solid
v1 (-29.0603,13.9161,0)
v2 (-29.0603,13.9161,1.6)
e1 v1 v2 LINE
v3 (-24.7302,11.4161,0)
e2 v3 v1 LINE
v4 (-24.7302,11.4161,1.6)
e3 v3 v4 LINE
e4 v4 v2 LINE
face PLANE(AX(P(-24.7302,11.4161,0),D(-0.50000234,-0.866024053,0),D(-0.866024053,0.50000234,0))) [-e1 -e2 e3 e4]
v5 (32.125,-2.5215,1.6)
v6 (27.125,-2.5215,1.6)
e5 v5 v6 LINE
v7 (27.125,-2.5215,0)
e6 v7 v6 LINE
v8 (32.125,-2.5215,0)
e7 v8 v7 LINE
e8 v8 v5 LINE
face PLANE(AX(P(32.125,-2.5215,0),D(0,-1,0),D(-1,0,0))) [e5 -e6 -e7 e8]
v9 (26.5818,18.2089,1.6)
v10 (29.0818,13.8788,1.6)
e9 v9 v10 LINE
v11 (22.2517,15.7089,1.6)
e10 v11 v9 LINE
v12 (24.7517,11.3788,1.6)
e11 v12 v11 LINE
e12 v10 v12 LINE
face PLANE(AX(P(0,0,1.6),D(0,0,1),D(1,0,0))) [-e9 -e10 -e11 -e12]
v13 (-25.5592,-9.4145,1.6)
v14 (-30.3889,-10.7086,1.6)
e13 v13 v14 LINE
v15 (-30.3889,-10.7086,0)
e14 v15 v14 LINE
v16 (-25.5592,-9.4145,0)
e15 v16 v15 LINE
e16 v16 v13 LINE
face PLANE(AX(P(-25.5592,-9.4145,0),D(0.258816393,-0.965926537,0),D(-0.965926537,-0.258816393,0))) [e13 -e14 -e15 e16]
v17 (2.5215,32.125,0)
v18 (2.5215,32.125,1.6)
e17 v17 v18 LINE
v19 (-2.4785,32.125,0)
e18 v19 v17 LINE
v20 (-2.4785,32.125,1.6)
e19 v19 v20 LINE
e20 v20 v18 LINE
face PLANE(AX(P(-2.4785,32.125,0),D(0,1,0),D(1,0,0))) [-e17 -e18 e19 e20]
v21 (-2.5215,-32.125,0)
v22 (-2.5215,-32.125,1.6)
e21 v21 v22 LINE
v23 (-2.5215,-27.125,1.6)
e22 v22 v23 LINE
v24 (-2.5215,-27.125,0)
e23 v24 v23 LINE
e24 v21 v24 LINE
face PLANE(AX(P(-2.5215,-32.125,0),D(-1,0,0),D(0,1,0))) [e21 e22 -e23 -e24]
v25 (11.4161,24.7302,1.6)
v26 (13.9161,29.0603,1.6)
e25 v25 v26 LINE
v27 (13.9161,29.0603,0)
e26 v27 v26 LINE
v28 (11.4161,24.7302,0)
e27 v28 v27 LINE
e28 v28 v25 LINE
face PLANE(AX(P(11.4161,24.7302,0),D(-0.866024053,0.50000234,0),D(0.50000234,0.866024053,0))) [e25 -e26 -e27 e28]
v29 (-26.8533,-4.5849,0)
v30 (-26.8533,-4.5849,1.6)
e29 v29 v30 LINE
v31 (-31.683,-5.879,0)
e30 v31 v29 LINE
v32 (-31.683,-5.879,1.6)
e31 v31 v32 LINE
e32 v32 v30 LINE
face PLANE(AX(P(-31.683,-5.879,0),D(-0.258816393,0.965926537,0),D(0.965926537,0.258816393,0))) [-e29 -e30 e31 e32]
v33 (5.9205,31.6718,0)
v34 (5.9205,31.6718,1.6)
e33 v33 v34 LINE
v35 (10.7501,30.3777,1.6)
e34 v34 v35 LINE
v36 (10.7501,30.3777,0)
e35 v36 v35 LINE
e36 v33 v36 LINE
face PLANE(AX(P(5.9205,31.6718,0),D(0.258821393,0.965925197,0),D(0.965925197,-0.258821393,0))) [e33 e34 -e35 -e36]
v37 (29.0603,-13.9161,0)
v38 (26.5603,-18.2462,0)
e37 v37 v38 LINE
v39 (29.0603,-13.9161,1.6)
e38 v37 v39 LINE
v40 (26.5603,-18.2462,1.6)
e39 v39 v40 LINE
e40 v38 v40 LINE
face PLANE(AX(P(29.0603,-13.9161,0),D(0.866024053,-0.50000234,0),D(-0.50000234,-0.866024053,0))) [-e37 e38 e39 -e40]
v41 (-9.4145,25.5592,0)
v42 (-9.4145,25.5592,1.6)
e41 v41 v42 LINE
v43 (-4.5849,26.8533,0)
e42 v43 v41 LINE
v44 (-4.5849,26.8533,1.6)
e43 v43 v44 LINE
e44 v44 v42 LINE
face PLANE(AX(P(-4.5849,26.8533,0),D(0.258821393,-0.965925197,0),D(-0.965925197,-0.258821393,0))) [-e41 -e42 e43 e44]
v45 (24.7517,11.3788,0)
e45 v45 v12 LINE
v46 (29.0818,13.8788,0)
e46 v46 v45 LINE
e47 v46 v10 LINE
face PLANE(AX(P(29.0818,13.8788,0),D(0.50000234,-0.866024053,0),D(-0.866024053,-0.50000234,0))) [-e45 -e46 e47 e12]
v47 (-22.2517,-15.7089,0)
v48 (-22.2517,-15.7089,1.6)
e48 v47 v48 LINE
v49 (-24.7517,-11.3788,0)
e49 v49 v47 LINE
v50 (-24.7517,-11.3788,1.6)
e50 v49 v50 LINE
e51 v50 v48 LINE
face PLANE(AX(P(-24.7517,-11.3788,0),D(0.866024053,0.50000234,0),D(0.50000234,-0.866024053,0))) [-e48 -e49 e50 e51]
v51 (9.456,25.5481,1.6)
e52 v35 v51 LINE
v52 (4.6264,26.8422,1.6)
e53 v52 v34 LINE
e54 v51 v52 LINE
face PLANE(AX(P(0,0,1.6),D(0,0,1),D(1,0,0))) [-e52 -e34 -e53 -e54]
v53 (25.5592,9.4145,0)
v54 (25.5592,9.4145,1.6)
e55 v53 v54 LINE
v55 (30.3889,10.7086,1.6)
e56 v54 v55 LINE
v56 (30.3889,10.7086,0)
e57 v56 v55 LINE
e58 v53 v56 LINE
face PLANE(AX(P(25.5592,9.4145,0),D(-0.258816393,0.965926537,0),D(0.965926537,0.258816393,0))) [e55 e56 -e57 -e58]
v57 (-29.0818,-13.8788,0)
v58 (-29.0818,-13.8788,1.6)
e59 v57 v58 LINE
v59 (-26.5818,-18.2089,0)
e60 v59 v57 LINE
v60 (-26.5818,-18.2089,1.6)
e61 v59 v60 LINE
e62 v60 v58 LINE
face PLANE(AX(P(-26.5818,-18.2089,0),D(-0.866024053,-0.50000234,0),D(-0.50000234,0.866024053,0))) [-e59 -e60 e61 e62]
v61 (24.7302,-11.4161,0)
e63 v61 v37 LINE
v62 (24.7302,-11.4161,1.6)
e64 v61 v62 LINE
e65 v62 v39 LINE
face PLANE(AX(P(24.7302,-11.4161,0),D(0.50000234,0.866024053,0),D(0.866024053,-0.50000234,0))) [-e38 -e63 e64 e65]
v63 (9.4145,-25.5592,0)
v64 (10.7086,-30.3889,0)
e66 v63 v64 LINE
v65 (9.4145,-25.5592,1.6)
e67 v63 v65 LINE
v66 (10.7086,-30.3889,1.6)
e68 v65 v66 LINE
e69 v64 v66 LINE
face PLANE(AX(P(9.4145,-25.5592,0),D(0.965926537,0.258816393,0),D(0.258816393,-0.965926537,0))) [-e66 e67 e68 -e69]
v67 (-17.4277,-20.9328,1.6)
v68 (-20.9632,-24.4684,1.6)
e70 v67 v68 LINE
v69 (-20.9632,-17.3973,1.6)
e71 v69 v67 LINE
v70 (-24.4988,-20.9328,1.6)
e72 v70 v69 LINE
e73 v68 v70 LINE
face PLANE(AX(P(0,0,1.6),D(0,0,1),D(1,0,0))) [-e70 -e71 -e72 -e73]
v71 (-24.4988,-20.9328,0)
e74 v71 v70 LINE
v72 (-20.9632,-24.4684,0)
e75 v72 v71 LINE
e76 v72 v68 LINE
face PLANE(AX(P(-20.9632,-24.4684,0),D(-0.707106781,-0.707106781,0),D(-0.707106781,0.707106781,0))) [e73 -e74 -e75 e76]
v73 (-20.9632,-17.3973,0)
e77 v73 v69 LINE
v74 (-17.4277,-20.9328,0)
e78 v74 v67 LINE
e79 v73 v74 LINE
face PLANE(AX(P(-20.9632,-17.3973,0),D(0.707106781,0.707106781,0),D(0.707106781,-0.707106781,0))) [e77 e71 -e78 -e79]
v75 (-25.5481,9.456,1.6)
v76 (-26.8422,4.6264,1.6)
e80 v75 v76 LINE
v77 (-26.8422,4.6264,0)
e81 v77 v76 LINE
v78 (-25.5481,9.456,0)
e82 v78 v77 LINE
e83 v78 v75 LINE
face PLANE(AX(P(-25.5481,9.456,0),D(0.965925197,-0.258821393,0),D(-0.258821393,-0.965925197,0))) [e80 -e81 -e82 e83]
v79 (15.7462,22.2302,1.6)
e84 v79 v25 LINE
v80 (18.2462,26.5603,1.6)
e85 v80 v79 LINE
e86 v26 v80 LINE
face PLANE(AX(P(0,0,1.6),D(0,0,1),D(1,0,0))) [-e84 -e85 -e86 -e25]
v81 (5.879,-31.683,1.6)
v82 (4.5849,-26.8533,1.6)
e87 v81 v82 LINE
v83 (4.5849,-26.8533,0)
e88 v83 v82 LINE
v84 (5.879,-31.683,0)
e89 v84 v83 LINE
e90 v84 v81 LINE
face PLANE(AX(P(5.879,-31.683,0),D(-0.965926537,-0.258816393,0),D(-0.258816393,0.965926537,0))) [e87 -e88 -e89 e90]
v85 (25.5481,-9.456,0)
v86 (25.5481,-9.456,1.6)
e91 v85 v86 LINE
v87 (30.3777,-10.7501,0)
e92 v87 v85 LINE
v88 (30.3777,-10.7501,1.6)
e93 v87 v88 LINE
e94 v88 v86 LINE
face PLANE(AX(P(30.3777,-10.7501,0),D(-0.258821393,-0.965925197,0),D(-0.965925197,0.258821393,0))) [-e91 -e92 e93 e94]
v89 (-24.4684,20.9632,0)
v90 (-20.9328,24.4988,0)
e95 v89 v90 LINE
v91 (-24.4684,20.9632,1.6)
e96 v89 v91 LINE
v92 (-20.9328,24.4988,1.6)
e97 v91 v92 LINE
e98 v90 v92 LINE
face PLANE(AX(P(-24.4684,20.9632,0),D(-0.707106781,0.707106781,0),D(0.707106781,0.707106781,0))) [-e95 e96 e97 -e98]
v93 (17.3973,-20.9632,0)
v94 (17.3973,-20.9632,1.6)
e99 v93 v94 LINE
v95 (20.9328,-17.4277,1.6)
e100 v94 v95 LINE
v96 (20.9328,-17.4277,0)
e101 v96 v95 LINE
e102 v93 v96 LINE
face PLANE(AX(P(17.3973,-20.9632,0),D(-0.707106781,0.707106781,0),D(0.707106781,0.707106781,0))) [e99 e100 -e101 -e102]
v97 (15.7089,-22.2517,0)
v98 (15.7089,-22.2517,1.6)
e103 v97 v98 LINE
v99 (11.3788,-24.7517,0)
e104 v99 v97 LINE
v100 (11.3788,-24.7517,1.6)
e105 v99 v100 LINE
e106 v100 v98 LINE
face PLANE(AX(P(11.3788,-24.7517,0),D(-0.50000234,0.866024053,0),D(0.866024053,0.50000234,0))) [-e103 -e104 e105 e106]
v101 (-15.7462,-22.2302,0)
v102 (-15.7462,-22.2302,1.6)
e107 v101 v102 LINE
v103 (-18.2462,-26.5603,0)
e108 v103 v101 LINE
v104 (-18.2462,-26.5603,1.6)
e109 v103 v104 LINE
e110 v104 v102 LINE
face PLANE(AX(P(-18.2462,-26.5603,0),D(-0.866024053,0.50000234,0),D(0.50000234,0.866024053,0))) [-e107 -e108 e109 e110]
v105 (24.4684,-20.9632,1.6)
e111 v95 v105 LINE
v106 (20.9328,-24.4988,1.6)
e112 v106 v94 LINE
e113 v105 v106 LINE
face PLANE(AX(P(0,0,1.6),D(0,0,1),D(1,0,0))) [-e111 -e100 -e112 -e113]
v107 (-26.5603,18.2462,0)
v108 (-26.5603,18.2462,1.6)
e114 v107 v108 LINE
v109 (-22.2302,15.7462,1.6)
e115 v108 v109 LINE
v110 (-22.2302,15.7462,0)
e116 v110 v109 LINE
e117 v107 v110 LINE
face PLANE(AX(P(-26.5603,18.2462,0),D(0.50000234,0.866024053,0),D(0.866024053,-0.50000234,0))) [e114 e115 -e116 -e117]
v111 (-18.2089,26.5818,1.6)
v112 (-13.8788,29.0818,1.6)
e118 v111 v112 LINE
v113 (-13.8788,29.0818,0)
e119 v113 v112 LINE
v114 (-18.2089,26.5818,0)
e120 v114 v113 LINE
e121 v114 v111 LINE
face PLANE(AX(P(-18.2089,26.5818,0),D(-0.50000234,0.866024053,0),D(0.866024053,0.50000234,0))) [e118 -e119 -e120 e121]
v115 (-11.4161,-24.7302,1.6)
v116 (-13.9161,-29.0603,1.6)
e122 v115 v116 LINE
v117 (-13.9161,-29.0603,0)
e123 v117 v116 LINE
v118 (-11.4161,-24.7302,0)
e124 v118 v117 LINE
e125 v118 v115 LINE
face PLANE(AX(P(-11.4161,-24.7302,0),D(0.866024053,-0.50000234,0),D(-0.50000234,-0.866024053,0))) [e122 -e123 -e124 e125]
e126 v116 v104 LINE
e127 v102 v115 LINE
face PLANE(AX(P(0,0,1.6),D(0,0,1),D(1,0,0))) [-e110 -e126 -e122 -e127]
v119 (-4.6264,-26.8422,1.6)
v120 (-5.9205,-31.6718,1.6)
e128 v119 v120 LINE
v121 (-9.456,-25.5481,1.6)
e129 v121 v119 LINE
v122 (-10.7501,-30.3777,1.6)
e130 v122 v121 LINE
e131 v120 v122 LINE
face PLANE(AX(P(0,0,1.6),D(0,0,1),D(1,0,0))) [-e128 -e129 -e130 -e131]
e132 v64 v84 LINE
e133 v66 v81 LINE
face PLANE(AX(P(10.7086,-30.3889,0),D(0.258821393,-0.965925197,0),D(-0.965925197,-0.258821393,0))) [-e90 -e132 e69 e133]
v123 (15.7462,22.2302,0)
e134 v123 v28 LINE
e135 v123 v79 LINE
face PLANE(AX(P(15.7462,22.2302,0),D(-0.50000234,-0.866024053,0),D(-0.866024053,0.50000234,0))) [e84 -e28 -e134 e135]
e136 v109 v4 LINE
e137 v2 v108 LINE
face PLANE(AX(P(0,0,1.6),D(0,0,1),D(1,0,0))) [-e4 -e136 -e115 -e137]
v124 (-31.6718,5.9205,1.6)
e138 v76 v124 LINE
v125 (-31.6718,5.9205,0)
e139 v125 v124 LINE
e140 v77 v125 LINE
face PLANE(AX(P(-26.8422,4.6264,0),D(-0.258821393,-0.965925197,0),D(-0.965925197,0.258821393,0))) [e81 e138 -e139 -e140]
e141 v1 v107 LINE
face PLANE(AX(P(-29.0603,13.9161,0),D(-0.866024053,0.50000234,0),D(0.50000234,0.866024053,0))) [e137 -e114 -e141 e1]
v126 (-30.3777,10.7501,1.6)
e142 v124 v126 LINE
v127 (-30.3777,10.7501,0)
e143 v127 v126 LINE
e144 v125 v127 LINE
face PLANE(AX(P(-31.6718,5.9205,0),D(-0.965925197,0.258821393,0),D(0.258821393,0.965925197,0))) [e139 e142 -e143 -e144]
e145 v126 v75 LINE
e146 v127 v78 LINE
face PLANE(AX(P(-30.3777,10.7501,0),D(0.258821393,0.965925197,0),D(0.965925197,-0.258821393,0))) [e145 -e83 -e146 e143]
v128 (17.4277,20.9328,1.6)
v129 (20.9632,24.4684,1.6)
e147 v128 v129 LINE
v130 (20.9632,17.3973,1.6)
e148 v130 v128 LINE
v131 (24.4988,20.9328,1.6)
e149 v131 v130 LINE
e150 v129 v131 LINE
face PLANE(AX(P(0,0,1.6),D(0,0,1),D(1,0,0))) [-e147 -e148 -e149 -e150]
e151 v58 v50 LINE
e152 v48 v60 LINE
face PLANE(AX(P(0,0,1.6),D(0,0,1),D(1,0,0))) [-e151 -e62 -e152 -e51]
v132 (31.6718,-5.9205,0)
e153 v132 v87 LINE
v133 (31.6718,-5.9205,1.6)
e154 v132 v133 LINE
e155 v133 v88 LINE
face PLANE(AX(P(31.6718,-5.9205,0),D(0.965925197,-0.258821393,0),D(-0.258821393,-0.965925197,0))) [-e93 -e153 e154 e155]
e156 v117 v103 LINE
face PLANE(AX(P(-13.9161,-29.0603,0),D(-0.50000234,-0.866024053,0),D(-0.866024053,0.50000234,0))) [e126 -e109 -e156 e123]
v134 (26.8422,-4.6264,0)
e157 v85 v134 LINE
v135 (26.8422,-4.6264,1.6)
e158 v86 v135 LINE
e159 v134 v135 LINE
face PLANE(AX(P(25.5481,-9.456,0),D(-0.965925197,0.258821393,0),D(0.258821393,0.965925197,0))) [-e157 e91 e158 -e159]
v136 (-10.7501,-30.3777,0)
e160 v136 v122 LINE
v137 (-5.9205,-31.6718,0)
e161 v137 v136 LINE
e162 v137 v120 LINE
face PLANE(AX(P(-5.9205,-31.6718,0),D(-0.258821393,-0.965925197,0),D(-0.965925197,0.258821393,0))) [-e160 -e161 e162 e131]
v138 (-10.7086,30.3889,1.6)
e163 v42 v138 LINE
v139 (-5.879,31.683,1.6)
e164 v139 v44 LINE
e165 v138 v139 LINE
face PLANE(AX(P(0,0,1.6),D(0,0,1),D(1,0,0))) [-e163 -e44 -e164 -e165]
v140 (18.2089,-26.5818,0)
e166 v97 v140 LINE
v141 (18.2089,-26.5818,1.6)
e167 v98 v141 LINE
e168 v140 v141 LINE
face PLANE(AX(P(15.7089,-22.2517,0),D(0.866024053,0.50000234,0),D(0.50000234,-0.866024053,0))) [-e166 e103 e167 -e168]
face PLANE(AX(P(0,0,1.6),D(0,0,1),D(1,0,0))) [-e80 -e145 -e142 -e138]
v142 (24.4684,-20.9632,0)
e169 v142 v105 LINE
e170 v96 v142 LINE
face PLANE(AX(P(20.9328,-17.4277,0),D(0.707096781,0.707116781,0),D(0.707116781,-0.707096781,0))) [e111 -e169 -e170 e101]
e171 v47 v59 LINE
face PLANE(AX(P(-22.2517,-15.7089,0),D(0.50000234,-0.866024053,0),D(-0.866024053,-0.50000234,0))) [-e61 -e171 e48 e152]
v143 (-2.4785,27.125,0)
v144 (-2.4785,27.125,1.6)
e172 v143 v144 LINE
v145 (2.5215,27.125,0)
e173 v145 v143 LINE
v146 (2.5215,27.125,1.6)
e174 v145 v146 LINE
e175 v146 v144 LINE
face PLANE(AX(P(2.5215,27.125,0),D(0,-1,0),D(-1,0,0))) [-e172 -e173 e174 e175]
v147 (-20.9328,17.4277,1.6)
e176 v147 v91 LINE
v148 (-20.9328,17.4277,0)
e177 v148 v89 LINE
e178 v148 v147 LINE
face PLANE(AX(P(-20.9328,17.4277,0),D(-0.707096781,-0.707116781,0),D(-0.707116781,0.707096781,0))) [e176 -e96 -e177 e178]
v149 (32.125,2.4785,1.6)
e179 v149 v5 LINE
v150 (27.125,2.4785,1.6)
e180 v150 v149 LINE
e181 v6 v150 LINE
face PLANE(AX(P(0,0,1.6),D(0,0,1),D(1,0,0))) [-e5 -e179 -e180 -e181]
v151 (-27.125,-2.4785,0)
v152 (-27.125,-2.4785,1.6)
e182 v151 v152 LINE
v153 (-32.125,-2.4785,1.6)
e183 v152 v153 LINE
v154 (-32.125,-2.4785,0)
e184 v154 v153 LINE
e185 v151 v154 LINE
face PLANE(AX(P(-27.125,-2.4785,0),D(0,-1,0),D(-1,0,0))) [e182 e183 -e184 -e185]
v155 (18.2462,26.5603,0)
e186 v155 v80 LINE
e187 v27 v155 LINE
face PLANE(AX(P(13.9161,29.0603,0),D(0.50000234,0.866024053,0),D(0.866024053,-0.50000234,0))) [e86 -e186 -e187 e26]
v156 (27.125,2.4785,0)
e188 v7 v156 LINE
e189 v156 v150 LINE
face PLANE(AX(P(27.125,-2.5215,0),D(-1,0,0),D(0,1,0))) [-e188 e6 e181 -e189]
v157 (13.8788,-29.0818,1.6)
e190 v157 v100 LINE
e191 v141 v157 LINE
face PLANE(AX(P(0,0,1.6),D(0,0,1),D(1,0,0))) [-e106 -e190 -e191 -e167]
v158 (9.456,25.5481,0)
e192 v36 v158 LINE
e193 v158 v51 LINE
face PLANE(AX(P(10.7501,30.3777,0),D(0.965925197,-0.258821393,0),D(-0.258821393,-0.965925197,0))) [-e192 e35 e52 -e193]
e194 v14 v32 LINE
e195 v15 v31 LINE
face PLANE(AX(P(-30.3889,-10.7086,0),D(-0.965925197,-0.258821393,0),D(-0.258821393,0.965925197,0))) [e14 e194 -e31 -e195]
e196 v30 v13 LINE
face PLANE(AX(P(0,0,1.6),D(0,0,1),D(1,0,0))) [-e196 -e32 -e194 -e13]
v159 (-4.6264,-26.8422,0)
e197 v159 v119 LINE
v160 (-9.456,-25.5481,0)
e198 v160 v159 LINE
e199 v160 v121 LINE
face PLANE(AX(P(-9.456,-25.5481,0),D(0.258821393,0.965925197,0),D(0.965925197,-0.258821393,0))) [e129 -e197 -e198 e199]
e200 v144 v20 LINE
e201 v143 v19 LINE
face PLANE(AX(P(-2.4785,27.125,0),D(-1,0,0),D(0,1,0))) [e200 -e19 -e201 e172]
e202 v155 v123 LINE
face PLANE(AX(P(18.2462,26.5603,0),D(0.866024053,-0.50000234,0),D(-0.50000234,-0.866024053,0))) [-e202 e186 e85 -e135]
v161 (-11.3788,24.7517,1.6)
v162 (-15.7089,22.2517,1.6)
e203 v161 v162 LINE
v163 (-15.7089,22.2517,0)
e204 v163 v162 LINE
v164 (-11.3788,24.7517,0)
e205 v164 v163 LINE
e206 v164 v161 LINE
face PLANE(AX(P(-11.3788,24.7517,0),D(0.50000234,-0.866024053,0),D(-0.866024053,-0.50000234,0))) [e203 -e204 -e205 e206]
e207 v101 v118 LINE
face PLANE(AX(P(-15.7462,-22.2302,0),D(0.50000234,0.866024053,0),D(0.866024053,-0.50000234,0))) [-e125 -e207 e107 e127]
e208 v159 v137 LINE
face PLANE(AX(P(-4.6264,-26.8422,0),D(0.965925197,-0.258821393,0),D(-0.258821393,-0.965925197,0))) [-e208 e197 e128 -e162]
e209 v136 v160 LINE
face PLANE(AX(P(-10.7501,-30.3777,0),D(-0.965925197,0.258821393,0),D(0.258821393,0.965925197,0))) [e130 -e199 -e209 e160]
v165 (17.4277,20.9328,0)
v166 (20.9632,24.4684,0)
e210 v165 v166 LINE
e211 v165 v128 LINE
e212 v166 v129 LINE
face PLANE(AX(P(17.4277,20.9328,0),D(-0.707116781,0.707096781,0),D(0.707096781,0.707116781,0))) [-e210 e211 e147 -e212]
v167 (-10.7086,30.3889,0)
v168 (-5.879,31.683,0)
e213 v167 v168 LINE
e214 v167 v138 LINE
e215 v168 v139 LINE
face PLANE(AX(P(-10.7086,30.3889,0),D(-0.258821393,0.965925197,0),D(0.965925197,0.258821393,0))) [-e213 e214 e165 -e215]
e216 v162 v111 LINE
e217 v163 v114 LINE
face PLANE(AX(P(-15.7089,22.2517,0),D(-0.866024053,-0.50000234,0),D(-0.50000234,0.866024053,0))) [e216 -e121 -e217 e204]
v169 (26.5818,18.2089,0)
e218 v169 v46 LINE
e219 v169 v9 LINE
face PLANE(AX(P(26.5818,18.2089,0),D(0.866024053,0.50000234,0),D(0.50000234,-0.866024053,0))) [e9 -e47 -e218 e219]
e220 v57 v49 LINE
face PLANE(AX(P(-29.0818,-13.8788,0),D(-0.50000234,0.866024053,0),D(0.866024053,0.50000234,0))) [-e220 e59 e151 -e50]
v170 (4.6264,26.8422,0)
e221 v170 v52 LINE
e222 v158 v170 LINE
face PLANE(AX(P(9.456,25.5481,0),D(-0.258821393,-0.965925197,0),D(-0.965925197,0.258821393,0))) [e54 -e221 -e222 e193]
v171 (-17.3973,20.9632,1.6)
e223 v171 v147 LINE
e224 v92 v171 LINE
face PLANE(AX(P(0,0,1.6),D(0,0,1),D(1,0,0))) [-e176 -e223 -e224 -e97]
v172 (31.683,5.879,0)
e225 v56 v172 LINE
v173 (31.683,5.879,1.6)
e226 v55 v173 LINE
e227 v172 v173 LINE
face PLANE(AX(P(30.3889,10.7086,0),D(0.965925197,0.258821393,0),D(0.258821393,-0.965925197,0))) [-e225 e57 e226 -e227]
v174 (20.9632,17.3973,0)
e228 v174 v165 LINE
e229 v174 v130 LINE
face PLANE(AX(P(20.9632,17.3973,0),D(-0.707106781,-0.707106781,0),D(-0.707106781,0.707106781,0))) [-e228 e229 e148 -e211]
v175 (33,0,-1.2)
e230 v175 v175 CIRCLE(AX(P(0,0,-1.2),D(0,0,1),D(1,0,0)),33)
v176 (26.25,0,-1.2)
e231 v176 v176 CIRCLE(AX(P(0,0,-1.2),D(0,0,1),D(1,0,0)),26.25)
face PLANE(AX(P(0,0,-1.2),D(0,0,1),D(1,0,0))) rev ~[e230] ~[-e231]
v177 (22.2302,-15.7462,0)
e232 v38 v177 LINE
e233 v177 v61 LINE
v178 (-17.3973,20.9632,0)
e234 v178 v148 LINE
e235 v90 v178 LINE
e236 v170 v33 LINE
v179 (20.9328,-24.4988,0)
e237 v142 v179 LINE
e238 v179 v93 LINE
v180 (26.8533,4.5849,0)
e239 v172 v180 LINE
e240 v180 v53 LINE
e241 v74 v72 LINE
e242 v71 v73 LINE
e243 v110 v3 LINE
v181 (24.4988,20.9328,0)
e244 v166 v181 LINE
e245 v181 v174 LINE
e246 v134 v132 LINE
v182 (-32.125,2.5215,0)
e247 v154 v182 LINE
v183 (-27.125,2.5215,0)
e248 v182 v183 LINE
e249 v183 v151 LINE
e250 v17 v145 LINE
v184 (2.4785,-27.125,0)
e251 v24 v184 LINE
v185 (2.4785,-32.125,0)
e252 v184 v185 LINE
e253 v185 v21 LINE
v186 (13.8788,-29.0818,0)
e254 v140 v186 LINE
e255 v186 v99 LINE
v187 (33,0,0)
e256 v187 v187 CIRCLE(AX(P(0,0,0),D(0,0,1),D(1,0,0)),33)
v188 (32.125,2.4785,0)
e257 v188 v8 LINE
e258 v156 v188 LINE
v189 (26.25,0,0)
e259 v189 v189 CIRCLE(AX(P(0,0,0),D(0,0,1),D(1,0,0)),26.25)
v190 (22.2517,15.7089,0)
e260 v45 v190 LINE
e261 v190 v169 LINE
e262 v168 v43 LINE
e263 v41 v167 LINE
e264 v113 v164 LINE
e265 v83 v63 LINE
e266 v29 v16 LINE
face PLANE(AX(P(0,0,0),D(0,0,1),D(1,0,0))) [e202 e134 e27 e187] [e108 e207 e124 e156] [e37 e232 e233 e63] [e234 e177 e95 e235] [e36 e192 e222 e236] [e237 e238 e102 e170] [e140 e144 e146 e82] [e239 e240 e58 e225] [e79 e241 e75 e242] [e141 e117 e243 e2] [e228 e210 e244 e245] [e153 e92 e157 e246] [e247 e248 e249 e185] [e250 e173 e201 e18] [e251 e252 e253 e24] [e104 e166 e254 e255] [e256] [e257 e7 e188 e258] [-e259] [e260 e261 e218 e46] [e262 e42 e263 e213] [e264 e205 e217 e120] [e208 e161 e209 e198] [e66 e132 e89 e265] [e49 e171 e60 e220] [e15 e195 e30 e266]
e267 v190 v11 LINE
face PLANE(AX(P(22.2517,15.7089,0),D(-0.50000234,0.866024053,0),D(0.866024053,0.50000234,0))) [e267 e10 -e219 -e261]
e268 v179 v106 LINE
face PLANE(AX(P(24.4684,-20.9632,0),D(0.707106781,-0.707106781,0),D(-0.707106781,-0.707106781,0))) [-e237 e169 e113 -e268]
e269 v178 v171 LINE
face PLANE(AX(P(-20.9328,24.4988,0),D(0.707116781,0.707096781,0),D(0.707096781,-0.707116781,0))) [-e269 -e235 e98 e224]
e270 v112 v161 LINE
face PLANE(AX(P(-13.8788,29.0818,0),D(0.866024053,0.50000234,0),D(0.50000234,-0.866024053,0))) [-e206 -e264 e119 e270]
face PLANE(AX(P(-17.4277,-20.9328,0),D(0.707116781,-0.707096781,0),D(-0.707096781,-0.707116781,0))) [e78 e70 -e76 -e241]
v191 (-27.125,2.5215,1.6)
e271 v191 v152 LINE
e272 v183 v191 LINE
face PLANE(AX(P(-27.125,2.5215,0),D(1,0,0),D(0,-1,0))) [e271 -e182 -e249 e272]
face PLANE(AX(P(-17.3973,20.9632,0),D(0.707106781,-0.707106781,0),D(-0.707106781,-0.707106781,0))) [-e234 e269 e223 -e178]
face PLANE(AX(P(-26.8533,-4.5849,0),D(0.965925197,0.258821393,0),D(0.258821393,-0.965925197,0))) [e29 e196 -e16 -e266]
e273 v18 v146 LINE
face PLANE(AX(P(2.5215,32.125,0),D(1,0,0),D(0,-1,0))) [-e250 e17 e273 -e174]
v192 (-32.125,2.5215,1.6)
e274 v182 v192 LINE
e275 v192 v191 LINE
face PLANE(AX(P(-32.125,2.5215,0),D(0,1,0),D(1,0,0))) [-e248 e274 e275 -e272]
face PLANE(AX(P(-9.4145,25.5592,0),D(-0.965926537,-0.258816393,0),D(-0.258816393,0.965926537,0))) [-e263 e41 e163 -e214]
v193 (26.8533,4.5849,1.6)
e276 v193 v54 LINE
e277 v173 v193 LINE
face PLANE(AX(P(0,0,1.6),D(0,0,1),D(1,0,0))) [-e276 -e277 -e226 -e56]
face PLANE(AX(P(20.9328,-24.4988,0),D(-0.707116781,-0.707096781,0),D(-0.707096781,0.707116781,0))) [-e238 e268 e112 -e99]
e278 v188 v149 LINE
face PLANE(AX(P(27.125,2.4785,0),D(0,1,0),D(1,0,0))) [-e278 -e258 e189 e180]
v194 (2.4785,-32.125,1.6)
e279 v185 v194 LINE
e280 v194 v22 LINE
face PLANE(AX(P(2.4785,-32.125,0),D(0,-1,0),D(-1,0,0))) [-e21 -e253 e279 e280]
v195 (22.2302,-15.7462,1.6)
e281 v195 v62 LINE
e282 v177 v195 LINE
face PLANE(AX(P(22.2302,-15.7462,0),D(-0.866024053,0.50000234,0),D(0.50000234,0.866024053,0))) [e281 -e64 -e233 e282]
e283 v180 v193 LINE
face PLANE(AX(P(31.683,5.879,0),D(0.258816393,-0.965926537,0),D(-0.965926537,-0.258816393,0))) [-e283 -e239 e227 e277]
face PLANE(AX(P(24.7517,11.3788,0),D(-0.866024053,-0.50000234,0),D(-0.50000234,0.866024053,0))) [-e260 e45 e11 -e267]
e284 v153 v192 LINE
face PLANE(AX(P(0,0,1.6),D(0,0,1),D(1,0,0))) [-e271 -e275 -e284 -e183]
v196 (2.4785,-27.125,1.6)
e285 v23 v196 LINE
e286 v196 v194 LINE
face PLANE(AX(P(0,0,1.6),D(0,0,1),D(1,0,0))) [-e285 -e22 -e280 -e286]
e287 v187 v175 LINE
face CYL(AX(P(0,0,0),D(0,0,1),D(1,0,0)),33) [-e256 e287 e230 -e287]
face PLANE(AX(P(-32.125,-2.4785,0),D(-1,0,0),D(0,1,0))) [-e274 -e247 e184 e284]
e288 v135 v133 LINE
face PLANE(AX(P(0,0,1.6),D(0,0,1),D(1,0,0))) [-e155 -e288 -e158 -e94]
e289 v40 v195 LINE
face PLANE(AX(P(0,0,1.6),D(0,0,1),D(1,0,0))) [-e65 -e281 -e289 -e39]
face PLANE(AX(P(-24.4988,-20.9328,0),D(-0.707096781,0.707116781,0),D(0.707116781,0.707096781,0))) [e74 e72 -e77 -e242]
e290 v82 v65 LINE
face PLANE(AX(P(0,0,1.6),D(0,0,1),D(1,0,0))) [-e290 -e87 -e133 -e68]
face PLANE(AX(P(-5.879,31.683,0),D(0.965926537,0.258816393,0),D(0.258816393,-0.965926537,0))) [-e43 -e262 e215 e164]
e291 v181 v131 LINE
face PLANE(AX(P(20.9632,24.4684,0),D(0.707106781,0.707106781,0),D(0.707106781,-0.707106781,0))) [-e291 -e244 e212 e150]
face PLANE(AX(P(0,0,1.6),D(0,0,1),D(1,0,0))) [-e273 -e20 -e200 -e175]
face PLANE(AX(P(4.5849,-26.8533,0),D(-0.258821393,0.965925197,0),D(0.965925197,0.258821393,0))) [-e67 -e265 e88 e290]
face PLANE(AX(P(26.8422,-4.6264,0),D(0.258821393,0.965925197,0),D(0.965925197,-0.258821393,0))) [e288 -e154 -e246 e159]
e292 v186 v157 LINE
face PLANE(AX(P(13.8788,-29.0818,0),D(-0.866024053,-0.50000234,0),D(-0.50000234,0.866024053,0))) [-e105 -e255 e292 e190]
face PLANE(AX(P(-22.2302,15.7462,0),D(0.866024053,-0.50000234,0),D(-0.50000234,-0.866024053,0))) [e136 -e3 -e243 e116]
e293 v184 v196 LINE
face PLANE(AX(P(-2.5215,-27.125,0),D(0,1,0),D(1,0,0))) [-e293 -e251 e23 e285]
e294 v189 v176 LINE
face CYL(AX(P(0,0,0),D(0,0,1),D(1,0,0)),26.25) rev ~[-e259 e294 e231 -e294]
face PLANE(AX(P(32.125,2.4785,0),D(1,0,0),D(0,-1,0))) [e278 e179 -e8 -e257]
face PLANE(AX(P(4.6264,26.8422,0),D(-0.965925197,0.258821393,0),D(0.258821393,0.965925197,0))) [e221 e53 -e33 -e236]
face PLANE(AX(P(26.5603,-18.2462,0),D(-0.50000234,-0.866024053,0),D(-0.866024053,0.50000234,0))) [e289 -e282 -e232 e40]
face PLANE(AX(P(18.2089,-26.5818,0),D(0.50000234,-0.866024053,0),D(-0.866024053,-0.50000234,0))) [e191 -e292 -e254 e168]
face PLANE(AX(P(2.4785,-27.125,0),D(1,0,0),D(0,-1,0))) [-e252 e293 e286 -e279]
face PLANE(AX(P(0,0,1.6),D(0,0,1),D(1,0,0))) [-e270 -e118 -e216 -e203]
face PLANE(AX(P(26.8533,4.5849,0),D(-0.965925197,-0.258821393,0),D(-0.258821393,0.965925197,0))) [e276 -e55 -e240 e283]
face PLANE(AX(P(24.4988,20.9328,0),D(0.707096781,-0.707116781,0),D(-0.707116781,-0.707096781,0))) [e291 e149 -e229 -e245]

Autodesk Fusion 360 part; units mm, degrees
sketch "Sketch1" plane through (0, 0, 0) normal (0, 0, 1) x (1, 0, 0)
  circle A0 centre (0, 0) radius 33
  circle A1 centre (0, 0) radius 26.25
  line L0 (0.0215, 33) -> (0.0215, 26.25) construction
  line L1 (2.5215, 27.125) -> (-2.4785, 27.125)
  line L2 (-2.4785, 27.125) -> (-2.4785, 32.125)
  line L3 (-2.4785, 32.125) -> (2.5215, 32.125)
  line L4 (2.5215, 32.125) -> (2.5215, 27.125)
  line L5 (2.5215, 27.125) -> (-2.4785, 32.125) construction
  line L6 (-2.4785, 27.125) -> (2.5215, 32.125) construction
  line L7 (-10.7086, 30.3889) -> (-5.879, 31.683)
  line L8 (-5.879, 31.683) -> (-4.5849, 26.8533)
  line L9 (-4.5849, 26.8533) -> (-9.4145, 25.5592)
  line L10 (-9.4145, 25.5592) -> (-10.7086, 30.3889)
  line L11 (-18.2089, 26.5818) -> (-13.8788, 29.0818)
  line L12 (-13.8788, 29.0818) -> (-11.3788, 24.7517)
  line L13 (-11.3788, 24.7517) -> (-15.7089, 22.2517)
  line L14 (-15.7089, 22.2517) -> (-18.2089, 26.5818)
  line L15 (-24.4684, 20.9632) -> (-20.9328, 24.4988)
  line L16 (-20.9328, 24.4988) -> (-17.3973, 20.9632)
  line L17 (-17.3973, 20.9632) -> (-20.9328, 17.4277)
  line L18 (-20.9328, 17.4277) -> (-24.4684, 20.9632)
  line L19 (-29.0603, 13.9161) -> (-26.5603, 18.2462)
  line L20 (-26.5603, 18.2462) -> (-22.2302, 15.7462)
  line L21 (-22.2302, 15.7462) -> (-24.7302, 11.4161)
  line L22 (-24.7302, 11.4161) -> (-29.0603, 13.9161)
  line L23 (-31.6718, 5.9205) -> (-30.3777, 10.7501)
  line L24 (-30.3777, 10.7501) -> (-25.5481, 9.456)
  line L25 (-25.5481, 9.456) -> (-26.8422, 4.6264)
  line L26 (-26.8422, 4.6264) -> (-31.6718, 5.9205)
  line L27 (-32.125, -2.4785) -> (-32.125, 2.5215)
  line L28 (-32.125, 2.5215) -> (-27.125, 2.5215)
  line L29 (-27.125, 2.5215) -> (-27.125, -2.4785)
  line L30 (-27.125, -2.4785) -> (-32.125, -2.4785)
  line L31 (-30.3889, -10.7086) -> (-31.683, -5.879)
  line L32 (-31.683, -5.879) -> (-26.8533, -4.5849)
  line L33 (-26.8533, -4.5849) -> (-25.5592, -9.4145)
  line L34 (-25.5592, -9.4145) -> (-30.3889, -10.7086)
  line L35 (-26.5818, -18.2089) -> (-29.0818, -13.8788)
  line L36 (-29.0818, -13.8788) -> (-24.7517, -11.3788)
  line L37 (-24.7517, -11.3788) -> (-22.2517, -15.7089)
  line L38 (-22.2517, -15.7089) -> (-26.5818, -18.2089)
  line L39 (-20.9632, -24.4684) -> (-24.4988, -20.9328)
  line L40 (-24.4988, -20.9328) -> (-20.9632, -17.3973)
  line L41 (-20.9632, -17.3973) -> (-17.4277, -20.9328)
  line L42 (-17.4277, -20.9328) -> (-20.9632, -24.4684)
  line L43 (-13.9161, -29.0603) -> (-18.2462, -26.5603)
  line L44 (-18.2462, -26.5603) -> (-15.7462, -22.2302)
  line L45 (-15.7462, -22.2302) -> (-11.4161, -24.7302)
  line L46 (-11.4161, -24.7302) -> (-13.9161, -29.0603)
  line L47 (-5.9205, -31.6718) -> (-10.7501, -30.3777)
  line L48 (-10.7501, -30.3777) -> (-9.456, -25.5481)
  line L49 (-9.456, -25.5481) -> (-4.6264, -26.8422)
  line L50 (-4.6264, -26.8422) -> (-5.9205, -31.6718)
  line L51 (2.4785, -32.125) -> (-2.5215, -32.125)
  line L52 (-2.5215, -32.125) -> (-2.5215, -27.125)
  line L53 (-2.5215, -27.125) -> (2.4785, -27.125)
  line L54 (2.4785, -27.125) -> (2.4785, -32.125)
  line L55 (10.7086, -30.3889) -> (5.879, -31.683)
  line L56 (5.879, -31.683) -> (4.5849, -26.8533)
  line L57 (4.5849, -26.8533) -> (9.4145, -25.5592)
  line L58 (9.4145, -25.5592) -> (10.7086, -30.3889)
  line L59 (18.2089, -26.5818) -> (13.8788, -29.0818)
  line L60 (13.8788, -29.0818) -> (11.3788, -24.7517)
  line L61 (11.3788, -24.7517) -> (15.7089, -22.2517)
  line L62 (15.7089, -22.2517) -> (18.2089, -26.5818)
  line L63 (24.4684, -20.9632) -> (20.9328, -24.4988)
  line L64 (20.9328, -24.4988) -> (17.3973, -20.9632)
  line L65 (17.3973, -20.9632) -> (20.9328, -17.4277)
  line L66 (20.9328, -17.4277) -> (24.4684, -20.9632)
  line L67 (29.0603, -13.9161) -> (26.5603, -18.2462)
  line L68 (26.5603, -18.2462) -> (22.2302, -15.7462)
  line L69 (22.2302, -15.7462) -> (24.7302, -11.4161)
  line L70 (24.7302, -11.4161) -> (29.0603, -13.9161)
  line L71 (31.6718, -5.9205) -> (30.3777, -10.7501)
  line L72 (30.3777, -10.7501) -> (25.5481, -9.456)
  line L73 (25.5481, -9.456) -> (26.8422, -4.6264)
  line L74 (26.8422, -4.6264) -> (31.6718, -5.9205)
  line L75 (32.125, 2.4785) -> (32.125, -2.5215)
  line L76 (32.125, -2.5215) -> (27.125, -2.5215)
  line L77 (27.125, -2.5215) -> (27.125, 2.4785)
  line L78 (27.125, 2.4785) -> (32.125, 2.4785)
  line L79 (30.3889, 10.7086) -> (31.683, 5.879)
  line L80 (31.683, 5.879) -> (26.8533, 4.5849)
  line L81 (26.8533, 4.5849) -> (25.5592, 9.4145)
  line L82 (25.5592, 9.4145) -> (30.3889, 10.7086)
  line L83 (26.5818, 18.2089) -> (29.0818, 13.8788)
  line L84 (29.0818, 13.8788) -> (24.7517, 11.3788)
  line L85 (24.7517, 11.3788) -> (22.2517, 15.7089)
  line L86 (22.2517, 15.7089) -> (26.5818, 18.2089)
  line L87 (20.9632, 24.4684) -> (24.4988, 20.9328)
  line L88 (24.4988, 20.9328) -> (20.9632, 17.3973)
  line L89 (20.9632, 17.3973) -> (17.4277, 20.9328)
  line L90 (17.4277, 20.9328) -> (20.9632, 24.4684)
  line L91 (13.9161, 29.0603) -> (18.2462, 26.5603)
  line L92 (18.2462, 26.5603) -> (15.7462, 22.2302)
  line L93 (15.7462, 22.2302) -> (11.4161, 24.7302)
  line L94 (11.4161, 24.7302) -> (13.9161, 29.0603)
  line L95 (5.9205, 31.6718) -> (10.7501, 30.3777)
  line L96 (10.7501, 30.3777) -> (9.456, 25.5481)
  line L97 (9.456, 25.5481) -> (4.6264, 26.8422)
  line L98 (4.6264, 26.8422) -> (5.9205, 31.6718)
  point P0 (0.0215, 29.625)
  dimension "d1" = 66
  dimension "d2" = 52.5
  dimension "d3" = 5
  dimension "d4" = 5
  dimension "d6" = 360
extrude "Extrude1" add sketch "Sketch1" against normal blind 1.2 contours A0 | L1 L2 L3 L4 | L7 L8 L9 L10 | L11 L12 L13 L14 | L15 L16 L17 L18 | L19 L20 L21 L22 | L23 L24 L25 L26 | L27 L28 L29 L30 | L31 L32 L33 L34 | L35 L36 L37 L38 | L39 L40 L41 L42 | L43 L44 L45 L46 | L47 L48 L49 L50 | L51 L52 L53 L54 | L55 L56 L57 L58 | L59 L60 L61 L62 | L63 L64 L65 L66 | L67 L68 L69 L70 | L71 L72 L73 L74 | L75 L76 L77 L78 | L79 L80 L81 L82 | L83 L84 L85 L86 | L87 L88 L89 L90 | L91 L92 L93 L94 | L95 L96 L97 L98
extrude "Extrude2" add sketch "Sketch1" along normal blind 1.6 contours L1 L2 L3 L4 | L7 L8 L9 L10 | L11 L12 L13 L14 | L15 L16 L17 L18 | L19 L20 L21 L22 | L23 L24 L25 L26 | L27 L28 L29 L30 | L31 L32 L33 L34 | L35 L36 L37 L38 | L39 L40 L41 L42 | L43 L44 L45 L46 | L47 L48 L49 L50 | L51 L52 L53 L54 | L55 L56 L57 L58 | L59 L60 L61 L62 | L63 L64 L65 L66 | L67 L68 L69 L70 | L71 L72 L73 L74 | L75 L76 L77 L78 | L79 L80 L81 L82 | L83 L84 L85 L86 | L87 L88 L89 L90 | L91 L92 L93 L94 | L95 L96 L97 L98
